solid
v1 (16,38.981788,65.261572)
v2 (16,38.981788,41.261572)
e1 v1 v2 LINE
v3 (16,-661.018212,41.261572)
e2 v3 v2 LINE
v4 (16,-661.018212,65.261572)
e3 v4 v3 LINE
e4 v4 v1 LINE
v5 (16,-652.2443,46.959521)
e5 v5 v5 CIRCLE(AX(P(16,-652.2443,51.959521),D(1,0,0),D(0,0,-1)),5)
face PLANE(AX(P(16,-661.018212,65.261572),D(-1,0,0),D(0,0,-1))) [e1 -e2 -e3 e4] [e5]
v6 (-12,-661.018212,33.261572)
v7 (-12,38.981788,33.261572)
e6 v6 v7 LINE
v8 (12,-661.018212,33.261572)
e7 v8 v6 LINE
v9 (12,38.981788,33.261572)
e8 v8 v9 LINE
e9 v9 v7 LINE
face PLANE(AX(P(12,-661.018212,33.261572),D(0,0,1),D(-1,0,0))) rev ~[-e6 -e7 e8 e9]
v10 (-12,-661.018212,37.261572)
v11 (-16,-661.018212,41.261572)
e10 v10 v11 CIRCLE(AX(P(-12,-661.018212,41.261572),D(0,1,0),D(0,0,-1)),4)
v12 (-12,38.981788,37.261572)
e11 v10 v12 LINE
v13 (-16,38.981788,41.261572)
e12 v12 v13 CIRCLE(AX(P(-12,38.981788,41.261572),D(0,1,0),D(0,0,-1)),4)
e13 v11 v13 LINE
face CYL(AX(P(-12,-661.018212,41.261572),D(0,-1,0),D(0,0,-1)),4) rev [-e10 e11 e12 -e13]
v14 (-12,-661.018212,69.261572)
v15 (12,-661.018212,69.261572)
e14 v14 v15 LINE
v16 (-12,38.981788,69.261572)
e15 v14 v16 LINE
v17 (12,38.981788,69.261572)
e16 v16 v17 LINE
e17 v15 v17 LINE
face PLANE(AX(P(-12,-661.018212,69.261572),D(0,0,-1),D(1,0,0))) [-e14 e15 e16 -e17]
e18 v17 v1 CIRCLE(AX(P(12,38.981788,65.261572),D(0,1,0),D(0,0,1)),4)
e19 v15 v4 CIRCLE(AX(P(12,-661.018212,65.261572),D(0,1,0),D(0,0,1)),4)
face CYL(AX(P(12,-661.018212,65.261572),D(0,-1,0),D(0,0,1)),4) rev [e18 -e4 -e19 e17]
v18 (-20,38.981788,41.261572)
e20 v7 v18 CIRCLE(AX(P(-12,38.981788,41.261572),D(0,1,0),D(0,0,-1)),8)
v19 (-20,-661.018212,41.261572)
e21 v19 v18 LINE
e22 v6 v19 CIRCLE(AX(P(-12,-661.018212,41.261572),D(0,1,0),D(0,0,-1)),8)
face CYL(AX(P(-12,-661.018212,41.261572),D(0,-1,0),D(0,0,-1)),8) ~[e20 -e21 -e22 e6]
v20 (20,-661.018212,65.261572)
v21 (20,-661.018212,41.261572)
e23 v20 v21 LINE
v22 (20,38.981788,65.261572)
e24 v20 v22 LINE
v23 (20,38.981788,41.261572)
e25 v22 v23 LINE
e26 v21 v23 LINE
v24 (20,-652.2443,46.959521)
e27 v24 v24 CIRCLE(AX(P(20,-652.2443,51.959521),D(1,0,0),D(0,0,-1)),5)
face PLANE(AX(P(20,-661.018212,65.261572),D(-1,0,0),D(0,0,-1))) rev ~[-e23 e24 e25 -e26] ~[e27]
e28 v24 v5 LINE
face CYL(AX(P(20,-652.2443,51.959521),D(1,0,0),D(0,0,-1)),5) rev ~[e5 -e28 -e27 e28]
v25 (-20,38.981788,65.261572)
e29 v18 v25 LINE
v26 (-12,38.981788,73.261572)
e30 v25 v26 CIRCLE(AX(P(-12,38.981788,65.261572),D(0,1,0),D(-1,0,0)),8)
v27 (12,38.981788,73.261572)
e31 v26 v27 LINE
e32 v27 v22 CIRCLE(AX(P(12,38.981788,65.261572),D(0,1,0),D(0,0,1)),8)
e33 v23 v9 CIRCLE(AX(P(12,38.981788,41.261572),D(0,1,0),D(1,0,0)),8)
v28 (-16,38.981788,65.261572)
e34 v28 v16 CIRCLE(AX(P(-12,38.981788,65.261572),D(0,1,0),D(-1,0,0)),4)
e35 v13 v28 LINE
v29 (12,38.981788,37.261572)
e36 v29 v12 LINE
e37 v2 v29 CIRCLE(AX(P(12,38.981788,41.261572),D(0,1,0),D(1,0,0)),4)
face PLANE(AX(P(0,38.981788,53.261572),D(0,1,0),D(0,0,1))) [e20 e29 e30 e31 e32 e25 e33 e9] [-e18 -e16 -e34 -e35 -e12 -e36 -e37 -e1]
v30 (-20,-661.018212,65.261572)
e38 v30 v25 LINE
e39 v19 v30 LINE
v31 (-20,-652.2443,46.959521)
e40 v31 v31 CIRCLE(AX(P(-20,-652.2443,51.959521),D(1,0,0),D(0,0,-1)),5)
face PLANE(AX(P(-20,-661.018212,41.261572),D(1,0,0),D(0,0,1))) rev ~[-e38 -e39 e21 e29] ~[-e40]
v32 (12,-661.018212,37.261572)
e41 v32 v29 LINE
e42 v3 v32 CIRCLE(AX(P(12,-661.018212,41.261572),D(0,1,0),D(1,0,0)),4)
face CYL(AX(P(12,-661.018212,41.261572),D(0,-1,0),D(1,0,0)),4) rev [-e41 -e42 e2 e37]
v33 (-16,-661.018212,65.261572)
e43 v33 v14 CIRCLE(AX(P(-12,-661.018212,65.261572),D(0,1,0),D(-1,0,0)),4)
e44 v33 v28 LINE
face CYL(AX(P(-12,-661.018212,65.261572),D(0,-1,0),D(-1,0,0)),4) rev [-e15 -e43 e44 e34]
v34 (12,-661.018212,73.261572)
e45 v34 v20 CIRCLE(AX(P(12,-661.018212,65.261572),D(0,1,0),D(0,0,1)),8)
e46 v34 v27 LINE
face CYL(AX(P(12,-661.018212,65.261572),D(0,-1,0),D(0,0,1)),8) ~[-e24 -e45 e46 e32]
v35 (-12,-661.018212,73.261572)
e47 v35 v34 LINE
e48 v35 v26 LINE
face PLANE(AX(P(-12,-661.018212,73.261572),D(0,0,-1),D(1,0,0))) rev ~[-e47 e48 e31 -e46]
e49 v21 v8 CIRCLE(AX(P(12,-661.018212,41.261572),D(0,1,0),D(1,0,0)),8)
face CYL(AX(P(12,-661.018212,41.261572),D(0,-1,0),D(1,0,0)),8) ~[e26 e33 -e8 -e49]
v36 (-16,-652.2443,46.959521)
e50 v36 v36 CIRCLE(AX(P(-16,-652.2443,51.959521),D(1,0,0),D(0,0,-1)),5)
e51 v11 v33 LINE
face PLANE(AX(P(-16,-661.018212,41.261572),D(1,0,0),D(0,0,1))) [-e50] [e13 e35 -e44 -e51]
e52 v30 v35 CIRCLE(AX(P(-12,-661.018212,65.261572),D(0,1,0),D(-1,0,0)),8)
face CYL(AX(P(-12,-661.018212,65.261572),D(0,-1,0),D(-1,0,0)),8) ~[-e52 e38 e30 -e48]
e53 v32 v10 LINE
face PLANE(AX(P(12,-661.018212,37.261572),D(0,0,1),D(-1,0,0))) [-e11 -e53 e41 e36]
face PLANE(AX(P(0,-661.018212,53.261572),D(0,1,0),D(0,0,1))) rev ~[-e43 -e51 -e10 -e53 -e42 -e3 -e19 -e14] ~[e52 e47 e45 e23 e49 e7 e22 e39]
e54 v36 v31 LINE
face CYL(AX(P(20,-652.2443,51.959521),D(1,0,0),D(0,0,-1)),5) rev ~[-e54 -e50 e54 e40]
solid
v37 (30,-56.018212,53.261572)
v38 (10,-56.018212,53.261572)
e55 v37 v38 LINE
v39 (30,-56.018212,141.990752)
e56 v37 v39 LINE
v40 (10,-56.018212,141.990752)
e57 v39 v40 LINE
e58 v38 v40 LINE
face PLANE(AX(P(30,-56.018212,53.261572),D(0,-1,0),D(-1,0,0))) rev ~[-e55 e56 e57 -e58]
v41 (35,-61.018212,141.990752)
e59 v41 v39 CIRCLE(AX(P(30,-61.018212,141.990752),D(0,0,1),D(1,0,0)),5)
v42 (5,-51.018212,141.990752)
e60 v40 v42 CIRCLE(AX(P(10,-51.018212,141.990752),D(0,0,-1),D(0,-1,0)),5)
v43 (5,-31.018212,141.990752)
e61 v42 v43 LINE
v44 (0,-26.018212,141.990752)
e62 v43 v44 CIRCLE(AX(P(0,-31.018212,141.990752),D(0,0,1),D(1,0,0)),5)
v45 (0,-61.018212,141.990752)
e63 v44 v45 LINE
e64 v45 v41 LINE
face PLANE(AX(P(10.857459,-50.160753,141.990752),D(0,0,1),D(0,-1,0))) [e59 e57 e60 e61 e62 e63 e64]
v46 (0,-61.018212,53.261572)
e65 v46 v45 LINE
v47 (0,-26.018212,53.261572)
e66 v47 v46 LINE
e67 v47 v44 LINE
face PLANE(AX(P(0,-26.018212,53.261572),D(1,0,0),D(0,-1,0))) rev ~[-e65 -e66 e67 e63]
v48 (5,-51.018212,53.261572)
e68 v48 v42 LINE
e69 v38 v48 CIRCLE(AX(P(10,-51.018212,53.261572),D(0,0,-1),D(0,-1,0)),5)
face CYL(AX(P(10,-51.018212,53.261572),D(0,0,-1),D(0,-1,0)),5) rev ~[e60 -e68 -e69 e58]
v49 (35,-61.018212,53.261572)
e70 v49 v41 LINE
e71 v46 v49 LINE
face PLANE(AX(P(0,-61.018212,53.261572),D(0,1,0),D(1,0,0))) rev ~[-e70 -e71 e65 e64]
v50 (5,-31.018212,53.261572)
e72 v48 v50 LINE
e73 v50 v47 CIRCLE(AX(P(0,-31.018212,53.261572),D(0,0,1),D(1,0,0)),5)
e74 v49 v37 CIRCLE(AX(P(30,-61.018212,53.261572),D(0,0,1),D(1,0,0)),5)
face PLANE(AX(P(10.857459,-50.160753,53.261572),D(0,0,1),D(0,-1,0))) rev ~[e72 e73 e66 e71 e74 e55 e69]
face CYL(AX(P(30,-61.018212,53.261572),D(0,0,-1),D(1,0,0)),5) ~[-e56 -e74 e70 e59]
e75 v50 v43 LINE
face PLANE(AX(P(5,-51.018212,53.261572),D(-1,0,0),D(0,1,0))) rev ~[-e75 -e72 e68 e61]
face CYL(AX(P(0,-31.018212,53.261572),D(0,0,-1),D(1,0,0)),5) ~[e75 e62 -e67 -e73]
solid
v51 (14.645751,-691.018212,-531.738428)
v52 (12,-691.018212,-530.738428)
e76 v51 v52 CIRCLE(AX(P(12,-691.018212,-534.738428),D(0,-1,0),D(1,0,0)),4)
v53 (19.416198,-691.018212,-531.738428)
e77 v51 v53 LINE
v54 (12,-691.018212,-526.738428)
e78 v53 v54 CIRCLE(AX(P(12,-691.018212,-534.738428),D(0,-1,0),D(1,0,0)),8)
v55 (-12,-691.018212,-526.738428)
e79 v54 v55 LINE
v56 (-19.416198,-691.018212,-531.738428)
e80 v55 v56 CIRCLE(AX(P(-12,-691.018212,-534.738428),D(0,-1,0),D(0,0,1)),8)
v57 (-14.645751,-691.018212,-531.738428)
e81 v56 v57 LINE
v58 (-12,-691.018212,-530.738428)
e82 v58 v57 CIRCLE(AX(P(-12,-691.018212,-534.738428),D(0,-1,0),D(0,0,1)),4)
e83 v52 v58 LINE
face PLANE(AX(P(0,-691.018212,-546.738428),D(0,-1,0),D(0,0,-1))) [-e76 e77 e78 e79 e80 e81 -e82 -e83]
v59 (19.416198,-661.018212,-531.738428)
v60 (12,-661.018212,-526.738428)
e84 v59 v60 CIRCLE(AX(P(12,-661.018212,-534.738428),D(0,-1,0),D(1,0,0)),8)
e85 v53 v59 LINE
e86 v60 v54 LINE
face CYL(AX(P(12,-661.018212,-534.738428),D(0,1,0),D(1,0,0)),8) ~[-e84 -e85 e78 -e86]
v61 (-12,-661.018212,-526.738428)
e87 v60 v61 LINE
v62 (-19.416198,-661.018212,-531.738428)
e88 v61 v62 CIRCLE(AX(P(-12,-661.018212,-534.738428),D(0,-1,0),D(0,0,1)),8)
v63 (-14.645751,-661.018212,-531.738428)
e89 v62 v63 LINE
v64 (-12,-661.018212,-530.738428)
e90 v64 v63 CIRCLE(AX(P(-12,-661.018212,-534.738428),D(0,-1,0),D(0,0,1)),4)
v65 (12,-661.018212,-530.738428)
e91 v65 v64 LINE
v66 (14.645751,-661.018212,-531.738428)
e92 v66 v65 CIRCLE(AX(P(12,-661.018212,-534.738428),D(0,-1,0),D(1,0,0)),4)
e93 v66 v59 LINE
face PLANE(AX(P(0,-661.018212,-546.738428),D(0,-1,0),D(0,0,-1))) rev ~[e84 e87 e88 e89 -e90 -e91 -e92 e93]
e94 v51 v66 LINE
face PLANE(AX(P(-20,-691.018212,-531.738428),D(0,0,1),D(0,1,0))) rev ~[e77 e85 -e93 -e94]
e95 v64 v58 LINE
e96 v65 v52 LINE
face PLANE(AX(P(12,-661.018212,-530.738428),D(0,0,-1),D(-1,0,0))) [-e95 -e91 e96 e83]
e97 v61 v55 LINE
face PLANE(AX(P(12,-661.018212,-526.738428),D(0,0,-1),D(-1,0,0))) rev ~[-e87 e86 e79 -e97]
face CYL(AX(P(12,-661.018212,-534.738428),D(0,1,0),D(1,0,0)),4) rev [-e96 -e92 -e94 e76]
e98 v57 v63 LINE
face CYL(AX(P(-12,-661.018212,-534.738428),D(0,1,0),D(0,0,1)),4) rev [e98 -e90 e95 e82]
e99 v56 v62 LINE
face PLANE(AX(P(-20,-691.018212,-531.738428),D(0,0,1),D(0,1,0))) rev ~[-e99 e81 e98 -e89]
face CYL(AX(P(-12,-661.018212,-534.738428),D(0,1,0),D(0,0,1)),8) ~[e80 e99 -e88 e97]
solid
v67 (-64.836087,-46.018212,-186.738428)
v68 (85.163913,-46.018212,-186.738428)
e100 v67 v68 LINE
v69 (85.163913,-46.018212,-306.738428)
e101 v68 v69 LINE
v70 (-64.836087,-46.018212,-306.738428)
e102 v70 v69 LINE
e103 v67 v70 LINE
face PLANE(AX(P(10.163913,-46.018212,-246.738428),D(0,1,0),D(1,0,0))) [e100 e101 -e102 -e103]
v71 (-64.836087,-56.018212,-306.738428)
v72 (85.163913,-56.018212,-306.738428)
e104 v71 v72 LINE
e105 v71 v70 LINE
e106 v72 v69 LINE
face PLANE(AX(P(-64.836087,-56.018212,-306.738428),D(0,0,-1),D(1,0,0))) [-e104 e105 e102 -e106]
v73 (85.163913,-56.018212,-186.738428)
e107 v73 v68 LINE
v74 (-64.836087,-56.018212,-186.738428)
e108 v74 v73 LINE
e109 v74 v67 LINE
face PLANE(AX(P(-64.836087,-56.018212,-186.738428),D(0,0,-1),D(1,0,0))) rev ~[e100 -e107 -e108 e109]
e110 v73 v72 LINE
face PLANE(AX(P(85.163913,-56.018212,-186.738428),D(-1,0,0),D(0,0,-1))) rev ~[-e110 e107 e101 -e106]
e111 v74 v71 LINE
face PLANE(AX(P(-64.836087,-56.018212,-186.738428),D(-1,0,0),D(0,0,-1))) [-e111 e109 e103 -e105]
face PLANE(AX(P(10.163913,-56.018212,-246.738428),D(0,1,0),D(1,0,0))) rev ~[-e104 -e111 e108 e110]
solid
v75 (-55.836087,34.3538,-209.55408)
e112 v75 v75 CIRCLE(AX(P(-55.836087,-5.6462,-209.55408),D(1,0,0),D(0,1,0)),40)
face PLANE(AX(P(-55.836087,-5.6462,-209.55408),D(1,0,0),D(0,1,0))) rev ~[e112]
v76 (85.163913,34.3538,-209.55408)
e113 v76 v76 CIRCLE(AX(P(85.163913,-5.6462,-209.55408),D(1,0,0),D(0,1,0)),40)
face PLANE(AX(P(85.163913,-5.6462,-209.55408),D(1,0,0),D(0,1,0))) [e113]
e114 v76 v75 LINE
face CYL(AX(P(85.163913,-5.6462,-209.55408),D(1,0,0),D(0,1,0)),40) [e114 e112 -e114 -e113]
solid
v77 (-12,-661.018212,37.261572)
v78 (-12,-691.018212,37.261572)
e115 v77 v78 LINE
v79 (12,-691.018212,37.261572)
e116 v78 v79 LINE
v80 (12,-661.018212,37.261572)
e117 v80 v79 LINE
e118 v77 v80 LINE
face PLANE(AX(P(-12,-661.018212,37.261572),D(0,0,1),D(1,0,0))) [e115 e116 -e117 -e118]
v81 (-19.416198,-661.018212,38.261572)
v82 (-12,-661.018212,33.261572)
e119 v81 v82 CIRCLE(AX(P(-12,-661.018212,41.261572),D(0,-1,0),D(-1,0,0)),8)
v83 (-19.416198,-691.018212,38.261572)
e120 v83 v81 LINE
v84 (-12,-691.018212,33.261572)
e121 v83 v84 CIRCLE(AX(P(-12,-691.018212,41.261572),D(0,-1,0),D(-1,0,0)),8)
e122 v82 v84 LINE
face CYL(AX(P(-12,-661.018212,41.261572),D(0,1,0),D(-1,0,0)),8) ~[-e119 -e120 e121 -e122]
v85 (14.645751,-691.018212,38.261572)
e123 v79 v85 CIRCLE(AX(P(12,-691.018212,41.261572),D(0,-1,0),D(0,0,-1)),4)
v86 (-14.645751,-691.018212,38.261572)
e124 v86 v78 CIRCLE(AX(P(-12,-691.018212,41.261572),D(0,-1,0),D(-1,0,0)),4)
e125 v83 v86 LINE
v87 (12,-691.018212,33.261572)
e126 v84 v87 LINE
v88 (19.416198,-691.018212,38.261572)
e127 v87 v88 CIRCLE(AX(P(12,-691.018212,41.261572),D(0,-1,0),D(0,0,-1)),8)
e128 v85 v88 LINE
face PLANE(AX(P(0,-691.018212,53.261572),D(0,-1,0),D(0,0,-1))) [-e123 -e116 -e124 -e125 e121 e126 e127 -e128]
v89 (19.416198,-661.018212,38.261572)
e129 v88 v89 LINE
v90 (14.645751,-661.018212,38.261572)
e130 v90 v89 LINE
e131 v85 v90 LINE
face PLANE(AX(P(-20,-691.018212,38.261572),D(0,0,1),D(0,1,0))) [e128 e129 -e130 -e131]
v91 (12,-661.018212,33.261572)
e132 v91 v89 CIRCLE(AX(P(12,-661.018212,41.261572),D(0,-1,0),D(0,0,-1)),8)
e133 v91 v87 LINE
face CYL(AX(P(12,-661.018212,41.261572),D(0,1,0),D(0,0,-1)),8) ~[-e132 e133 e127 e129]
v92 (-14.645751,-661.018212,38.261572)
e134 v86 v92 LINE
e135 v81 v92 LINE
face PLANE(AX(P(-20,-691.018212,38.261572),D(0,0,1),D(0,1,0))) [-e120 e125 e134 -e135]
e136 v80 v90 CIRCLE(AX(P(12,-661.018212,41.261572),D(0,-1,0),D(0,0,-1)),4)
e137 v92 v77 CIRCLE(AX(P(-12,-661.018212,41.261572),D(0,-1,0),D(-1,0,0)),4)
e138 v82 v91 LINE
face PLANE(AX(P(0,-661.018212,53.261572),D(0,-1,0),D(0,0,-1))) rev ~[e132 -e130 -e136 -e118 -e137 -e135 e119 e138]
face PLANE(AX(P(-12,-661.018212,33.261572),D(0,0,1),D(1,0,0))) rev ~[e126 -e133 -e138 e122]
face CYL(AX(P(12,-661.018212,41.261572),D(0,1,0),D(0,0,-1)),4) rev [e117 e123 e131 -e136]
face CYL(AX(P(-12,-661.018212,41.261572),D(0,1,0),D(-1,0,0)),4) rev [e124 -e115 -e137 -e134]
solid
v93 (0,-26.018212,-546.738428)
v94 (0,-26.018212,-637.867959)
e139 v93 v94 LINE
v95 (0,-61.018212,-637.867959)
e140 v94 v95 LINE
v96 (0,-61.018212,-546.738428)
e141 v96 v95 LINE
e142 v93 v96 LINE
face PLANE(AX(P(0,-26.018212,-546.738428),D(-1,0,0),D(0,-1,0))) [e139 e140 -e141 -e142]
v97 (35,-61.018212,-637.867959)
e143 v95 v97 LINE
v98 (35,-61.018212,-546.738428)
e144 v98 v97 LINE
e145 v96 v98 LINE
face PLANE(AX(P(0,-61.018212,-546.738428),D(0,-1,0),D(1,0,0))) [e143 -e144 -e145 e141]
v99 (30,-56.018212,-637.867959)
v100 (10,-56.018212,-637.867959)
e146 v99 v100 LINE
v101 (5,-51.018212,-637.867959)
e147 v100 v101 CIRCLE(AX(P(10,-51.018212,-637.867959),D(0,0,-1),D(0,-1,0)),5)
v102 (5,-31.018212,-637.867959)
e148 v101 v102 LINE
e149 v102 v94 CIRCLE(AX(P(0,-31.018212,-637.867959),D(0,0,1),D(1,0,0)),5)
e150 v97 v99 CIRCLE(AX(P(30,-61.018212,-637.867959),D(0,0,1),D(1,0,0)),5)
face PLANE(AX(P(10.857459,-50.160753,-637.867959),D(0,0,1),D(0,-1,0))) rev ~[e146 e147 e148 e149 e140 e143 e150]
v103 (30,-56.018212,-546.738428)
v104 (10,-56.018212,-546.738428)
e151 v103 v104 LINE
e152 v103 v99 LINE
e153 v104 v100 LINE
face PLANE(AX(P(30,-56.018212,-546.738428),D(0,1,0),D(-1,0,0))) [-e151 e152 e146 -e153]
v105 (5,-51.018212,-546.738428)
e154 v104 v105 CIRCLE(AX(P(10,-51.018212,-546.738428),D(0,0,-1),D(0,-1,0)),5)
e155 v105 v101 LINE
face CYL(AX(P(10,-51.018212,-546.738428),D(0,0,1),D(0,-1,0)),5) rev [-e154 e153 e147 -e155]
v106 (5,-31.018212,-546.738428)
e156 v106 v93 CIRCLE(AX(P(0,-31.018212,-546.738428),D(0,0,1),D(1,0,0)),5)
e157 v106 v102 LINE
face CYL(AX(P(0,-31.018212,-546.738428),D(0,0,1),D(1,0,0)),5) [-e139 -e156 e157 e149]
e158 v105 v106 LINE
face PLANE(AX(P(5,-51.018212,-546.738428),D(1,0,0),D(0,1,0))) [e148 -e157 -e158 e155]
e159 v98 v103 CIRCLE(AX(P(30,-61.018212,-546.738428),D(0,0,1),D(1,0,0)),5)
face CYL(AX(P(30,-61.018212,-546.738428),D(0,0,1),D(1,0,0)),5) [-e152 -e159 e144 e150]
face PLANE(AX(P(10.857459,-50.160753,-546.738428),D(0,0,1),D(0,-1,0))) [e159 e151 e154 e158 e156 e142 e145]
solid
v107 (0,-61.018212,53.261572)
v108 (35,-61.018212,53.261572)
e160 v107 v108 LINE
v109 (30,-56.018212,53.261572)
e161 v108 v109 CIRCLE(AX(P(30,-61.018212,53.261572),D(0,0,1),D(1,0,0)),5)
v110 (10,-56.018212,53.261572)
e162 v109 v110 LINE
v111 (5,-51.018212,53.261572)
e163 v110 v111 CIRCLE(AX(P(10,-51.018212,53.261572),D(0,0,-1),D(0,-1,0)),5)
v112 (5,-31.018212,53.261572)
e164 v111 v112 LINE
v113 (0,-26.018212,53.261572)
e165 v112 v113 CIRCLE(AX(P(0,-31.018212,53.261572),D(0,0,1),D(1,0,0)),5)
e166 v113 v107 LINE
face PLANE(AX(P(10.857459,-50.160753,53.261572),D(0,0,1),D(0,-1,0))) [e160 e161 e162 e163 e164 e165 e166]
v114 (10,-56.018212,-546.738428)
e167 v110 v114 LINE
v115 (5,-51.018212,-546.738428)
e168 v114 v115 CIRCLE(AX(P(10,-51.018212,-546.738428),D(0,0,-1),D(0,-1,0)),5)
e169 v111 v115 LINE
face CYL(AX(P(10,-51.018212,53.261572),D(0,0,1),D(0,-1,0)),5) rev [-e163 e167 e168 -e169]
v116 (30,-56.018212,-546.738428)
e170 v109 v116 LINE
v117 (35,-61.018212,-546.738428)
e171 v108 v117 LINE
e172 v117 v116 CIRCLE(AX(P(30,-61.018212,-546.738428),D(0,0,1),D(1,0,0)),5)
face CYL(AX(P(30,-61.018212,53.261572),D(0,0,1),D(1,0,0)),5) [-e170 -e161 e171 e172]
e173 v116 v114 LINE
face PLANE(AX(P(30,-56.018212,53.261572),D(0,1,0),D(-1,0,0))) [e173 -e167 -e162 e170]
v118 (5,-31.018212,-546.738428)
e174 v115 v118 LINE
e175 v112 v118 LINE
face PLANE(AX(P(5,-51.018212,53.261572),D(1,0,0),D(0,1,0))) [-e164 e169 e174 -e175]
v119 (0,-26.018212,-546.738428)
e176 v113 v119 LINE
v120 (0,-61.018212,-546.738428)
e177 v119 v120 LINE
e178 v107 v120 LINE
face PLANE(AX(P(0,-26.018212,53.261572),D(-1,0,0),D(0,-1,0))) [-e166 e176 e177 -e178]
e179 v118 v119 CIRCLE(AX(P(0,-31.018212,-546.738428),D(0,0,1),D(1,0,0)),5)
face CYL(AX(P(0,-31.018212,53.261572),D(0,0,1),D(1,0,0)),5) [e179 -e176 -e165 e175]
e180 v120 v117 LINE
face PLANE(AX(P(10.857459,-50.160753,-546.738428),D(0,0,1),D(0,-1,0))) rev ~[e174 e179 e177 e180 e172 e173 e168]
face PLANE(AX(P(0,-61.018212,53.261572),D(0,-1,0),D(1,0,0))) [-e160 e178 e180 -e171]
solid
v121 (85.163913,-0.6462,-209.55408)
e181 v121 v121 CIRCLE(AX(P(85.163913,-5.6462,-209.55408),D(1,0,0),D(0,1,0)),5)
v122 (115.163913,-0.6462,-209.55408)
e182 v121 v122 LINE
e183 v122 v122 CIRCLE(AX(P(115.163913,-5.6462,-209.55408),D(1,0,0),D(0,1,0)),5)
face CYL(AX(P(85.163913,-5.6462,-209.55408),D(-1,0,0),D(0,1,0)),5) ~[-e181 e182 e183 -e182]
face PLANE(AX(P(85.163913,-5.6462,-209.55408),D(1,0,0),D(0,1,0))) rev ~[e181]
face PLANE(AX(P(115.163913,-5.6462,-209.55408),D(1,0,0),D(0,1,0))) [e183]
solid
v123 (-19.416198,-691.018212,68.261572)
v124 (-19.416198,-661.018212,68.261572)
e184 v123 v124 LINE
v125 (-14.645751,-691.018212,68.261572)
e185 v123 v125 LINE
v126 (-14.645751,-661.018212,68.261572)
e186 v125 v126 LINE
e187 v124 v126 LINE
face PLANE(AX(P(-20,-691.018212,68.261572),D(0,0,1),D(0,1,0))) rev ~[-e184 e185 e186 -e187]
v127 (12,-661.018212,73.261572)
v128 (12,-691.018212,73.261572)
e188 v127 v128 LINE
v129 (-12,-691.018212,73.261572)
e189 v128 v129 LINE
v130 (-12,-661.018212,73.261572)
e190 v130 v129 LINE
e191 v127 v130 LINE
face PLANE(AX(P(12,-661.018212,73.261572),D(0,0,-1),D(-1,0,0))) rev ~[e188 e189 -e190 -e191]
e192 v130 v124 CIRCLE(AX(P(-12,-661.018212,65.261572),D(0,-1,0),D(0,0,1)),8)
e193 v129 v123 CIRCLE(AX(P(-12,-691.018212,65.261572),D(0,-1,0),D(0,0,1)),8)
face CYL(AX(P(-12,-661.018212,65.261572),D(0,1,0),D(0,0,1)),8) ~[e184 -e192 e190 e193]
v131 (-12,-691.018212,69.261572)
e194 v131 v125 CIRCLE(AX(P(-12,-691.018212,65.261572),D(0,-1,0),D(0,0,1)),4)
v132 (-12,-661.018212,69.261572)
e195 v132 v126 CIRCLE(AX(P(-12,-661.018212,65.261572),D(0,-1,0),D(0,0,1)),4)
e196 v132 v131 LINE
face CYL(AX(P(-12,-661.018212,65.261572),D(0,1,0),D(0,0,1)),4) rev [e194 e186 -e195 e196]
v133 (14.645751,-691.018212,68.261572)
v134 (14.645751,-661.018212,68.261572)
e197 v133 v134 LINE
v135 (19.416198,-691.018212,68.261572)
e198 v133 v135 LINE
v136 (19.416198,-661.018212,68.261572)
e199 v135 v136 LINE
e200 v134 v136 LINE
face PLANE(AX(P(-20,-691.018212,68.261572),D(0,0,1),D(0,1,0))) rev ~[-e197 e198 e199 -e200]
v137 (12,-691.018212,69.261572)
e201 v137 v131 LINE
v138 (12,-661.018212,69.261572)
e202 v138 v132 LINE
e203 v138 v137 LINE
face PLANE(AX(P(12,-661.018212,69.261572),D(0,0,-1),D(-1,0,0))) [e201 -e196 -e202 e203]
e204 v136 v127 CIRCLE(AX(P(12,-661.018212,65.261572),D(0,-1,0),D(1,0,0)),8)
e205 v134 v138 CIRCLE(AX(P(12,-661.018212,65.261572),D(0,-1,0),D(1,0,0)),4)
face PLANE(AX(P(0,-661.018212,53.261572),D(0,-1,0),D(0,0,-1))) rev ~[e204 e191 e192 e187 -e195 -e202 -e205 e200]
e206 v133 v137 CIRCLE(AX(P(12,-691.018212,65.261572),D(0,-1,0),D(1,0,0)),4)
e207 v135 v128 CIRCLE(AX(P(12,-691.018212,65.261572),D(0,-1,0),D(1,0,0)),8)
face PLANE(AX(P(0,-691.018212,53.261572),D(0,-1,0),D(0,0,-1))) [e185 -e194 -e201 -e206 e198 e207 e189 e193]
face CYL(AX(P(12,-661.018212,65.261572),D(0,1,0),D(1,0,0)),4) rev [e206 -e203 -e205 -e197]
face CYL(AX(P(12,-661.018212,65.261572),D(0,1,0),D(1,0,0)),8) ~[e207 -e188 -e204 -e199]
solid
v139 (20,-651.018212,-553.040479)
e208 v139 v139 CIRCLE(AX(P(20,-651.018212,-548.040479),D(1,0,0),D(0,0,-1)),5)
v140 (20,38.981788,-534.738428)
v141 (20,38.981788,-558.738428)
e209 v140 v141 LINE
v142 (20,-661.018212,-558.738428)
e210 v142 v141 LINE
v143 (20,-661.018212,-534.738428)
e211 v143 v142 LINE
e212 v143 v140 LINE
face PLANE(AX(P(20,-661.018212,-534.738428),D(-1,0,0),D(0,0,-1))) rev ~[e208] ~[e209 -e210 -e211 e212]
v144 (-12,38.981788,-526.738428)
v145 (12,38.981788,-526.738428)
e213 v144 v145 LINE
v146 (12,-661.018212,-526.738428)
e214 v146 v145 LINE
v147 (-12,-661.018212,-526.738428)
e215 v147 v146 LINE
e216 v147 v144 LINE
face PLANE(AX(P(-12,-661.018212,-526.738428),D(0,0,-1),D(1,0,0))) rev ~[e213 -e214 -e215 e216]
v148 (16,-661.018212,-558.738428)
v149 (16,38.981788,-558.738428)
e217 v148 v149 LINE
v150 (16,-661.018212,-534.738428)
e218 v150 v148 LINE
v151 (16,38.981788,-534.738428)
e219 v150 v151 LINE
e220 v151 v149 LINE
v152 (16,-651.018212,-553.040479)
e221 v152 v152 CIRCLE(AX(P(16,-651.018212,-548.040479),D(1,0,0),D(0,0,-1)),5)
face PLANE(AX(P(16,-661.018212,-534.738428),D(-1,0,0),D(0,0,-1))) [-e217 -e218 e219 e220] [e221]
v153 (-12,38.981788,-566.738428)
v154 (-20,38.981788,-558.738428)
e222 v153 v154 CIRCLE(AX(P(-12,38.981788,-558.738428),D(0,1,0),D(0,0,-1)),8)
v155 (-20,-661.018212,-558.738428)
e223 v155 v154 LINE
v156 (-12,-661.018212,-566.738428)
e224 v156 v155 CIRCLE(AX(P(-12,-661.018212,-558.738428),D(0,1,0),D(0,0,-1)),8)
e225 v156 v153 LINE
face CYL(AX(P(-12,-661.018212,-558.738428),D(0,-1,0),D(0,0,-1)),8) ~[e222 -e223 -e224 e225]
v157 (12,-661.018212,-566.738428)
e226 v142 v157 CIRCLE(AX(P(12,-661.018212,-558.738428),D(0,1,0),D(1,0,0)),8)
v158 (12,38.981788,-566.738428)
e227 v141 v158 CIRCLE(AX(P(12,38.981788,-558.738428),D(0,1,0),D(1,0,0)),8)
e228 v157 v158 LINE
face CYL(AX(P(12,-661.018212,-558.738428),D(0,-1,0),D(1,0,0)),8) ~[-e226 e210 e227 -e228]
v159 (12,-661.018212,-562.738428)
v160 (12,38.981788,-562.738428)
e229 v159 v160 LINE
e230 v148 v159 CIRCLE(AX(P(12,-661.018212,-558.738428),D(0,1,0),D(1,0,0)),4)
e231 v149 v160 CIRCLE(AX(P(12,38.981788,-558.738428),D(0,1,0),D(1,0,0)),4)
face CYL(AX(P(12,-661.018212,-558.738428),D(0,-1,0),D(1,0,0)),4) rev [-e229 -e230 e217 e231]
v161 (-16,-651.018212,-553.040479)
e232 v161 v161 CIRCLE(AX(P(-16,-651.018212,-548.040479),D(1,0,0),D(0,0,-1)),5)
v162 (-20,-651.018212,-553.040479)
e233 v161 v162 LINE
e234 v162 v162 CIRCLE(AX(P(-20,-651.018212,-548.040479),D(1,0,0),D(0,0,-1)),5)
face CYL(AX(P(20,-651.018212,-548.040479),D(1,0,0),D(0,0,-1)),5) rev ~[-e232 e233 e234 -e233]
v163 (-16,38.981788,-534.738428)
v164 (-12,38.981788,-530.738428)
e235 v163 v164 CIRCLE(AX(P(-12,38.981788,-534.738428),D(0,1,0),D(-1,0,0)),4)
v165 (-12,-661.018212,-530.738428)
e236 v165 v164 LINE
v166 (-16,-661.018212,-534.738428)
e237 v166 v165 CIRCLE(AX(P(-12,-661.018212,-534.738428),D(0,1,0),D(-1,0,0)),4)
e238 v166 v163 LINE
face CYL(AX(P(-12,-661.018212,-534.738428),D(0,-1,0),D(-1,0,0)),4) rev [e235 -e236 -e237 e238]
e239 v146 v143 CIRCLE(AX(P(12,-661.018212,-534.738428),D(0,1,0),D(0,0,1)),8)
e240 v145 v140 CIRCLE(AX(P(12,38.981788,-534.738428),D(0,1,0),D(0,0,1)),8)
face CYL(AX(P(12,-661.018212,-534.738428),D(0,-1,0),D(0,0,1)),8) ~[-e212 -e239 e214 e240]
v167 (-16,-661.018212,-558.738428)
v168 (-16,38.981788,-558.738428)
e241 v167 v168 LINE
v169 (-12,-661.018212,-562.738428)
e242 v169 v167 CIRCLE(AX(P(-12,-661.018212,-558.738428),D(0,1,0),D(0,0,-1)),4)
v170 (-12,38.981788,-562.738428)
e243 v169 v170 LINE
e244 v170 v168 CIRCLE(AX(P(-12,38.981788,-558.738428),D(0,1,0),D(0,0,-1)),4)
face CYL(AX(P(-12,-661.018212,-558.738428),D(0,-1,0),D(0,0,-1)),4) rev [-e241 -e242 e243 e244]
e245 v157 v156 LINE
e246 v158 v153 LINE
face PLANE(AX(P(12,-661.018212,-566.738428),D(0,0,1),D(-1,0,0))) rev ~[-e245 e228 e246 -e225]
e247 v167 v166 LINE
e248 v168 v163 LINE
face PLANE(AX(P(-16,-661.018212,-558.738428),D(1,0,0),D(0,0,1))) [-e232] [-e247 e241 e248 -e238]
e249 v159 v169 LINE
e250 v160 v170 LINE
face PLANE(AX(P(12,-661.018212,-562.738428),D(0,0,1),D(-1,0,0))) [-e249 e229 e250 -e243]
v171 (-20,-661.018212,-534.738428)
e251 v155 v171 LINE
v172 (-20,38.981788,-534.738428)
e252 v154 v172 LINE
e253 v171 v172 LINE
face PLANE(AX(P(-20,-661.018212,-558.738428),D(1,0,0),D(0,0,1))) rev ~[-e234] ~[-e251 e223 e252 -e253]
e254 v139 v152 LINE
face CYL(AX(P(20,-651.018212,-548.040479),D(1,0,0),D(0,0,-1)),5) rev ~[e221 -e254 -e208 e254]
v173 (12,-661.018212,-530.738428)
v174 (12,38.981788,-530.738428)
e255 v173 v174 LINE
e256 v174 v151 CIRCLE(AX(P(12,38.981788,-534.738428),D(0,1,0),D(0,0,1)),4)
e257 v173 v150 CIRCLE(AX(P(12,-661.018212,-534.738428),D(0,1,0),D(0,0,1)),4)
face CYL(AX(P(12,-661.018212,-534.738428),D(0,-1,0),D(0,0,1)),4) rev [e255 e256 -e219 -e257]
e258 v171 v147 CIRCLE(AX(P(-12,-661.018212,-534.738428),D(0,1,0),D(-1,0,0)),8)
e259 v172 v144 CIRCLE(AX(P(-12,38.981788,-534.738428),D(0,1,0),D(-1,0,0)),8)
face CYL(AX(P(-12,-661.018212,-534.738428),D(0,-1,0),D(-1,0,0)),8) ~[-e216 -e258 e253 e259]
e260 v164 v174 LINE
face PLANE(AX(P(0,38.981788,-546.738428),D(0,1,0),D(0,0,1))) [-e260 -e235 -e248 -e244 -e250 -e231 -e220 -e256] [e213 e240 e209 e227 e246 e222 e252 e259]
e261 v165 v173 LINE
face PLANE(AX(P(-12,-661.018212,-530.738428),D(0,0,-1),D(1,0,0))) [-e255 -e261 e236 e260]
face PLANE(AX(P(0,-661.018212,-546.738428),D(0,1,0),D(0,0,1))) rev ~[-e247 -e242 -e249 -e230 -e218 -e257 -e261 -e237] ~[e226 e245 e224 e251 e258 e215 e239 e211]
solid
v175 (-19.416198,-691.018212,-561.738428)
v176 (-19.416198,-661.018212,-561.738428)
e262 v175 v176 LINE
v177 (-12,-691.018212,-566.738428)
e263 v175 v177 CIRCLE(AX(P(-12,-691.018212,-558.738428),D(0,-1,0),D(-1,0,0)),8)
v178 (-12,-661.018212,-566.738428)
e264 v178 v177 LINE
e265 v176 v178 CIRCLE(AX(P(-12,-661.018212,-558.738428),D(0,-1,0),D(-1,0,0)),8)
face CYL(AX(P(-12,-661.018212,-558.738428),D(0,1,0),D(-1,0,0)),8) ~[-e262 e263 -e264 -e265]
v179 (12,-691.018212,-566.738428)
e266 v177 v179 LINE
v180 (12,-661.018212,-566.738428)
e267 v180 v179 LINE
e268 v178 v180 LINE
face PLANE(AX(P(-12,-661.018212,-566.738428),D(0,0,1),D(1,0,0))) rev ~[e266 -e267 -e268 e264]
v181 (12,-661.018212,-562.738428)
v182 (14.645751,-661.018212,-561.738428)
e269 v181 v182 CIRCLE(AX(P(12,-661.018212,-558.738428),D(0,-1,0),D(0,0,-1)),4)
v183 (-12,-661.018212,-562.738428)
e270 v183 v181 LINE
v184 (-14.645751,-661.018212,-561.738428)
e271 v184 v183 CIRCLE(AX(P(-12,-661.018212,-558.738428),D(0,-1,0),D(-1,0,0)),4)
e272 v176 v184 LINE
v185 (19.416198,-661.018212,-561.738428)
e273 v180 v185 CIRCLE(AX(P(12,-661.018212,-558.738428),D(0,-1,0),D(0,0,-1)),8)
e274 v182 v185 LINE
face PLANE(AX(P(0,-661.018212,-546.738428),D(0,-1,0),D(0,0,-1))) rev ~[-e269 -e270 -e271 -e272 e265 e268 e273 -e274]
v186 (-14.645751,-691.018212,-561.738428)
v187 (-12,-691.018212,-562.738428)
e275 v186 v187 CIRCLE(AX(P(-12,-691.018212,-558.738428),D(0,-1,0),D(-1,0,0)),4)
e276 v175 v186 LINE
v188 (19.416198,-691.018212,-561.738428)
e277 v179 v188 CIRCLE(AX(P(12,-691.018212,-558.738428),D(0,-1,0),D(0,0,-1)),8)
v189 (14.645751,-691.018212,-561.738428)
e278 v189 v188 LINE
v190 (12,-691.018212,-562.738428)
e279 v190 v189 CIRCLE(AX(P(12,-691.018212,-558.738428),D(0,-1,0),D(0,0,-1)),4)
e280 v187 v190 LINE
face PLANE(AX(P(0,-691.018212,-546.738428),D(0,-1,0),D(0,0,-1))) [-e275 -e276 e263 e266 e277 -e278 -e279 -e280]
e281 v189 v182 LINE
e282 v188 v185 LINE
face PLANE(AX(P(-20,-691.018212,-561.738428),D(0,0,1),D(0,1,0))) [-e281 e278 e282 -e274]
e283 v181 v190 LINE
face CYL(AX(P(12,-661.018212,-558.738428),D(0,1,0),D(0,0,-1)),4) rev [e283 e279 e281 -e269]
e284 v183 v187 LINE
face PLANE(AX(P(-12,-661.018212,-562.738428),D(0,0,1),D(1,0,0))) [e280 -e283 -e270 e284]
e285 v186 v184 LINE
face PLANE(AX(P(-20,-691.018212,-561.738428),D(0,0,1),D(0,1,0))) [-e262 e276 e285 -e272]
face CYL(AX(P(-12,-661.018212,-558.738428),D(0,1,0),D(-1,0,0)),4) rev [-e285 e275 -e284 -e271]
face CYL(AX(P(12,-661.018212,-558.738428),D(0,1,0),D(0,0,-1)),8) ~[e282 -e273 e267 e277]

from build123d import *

# Parameters (mm, degrees)
STRUCTURAL_MEMBER1_DEPTH   = 700
STRUCTURAL_MEMBER1_2_DEPTH = 700
STRUCTURAL_MEMBER3_DEPTH   = 30
STRUCTURAL_MEMBER3_2_DEPTH = 30
SKETCH14_W                 = 30
SKETCH14_H                 = 30
CUT_EXTRUDE1_DEPTH         = 45
SKETCH15_W                 = 30
SKETCH15_H                 = 30
CUT_EXTRUDE2_DEPTH         = 45
STRUCTURAL_MEMBER4_DEPTH   = 88.72918051
STRUCTURAL_MEMBER4_2_DEPTH = 600
STRUCTURAL_MEMBER4_3_DEPTH = 91.129530864
SKETCH111_W                = 150
SKETCH111_H                = 120
BOSS_EXTRUDE1_DEPTH        = 10
SKETCH112_R                = 40
BOSS_EXTRUDE2_DEPTH        = 141
SKETCH113_R                = 5
BOSS_EXTRUDE3_DEPTH        = 30
SKETCH114_R                = 5
CUT_EXTRUDE3_DEPTH         = 105


with BuildPart() as part:
    # Sketch11 → Structural Member1 (new body)
    with BuildSketch(Plane(origin=(0, -661.018211614, 53.261571771), x_dir=(0, 0, 1), z_dir=(0, 1, 0))):
        with BuildLine():
            Line((-12, -20), (12, -20))
            ThreePointArc((12, -20), (17.656854249, -17.656854249), (20, -12))
            Line((20, -12), (20, 12))
            ThreePointArc((20, 12), (17.656854249, 17.656854249), (12, 20))
            Line((12, 20), (-12, 20))
            ThreePointArc((-12, 20), (-17.656854249, 17.656854249), (-20, 12))
            Line((-20, 12), (-20, -12))
            ThreePointArc((-20, -12), (-17.656854249, -17.656854249), (-12, -20))
        make_face()
        with BuildLine():
            Line((-12, -16), (12, -16))
            ThreePointArc((12, -16), (14.828427125, -14.828427125), (16, -12))
            Line((16, -12), (16, 12))
            ThreePointArc((16, 12), (14.828427125, 14.828427125), (12, 16))
            Line((12, 16), (-12, 16))
            ThreePointArc((-12, 16), (-14.828427125, 14.828427125), (-16, 12))
            Line((-16, 12), (-16, -12))
            ThreePointArc((-16, -12), (-14.828427125, -14.828427125), (-12, -16))
        make_face(mode=Mode.SUBTRACT)
    extrude(amount=STRUCTURAL_MEMBER1_DEPTH)


with BuildPart() as body_2:
    # Sketch11 on segment 2 (carried to segment 2) → Structural Member1 2 (new body)
    with BuildSketch(Plane(origin=(0, -661.018211614, -546.738428229), x_dir=(0, 0, 1), z_dir=(0, 1, 0))):
        with BuildLine():
            Line((-12, -20), (12, -20))
            ThreePointArc((12, -20), (17.656854249, -17.656854249), (20, -12))
            Line((20, -12), (20, 12))
            ThreePointArc((20, 12), (17.656854249, 17.656854249), (12, 20))
            Line((12, 20), (-12, 20))
            ThreePointArc((-12, 20), (-17.656854249, 17.656854249), (-20, 12))
            Line((-20, 12), (-20, -12))
            ThreePointArc((-20, -12), (-17.656854249, -17.656854249), (-12, -20))
        make_face()
        with BuildLine():
            Line((-12, -16), (12, -16))
            ThreePointArc((12, -16), (14.828427125, -14.828427125), (16, -12))
            Line((16, -12), (16, 12))
            ThreePointArc((16, 12), (14.828427125, 14.828427125), (12, 16))
            Line((12, 16), (-12, 16))
            ThreePointArc((-12, 16), (-14.828427125, 14.828427125), (-16, 12))
            Line((-16, 12), (-16, -12))
            ThreePointArc((-16, -12), (-14.828427125, -14.828427125), (-12, -16))
        make_face(mode=Mode.SUBTRACT)
    extrude(amount=STRUCTURAL_MEMBER1_2_DEPTH)


with BuildPart() as body_3:
    # Sketch13 → Structural Member3 (new body)
    with BuildSketch(Plane(origin=(0, -661.018211614, 53.261571771), x_dir=(0, 0, -1), z_dir=(0, -1, 0))):
        with BuildLine():
            Line((-12, -20), (12, -20))
            ThreePointArc((12, -20), (17.656854249, -17.656854249), (20, -12))
            Line((20, -12), (20, 12))
            ThreePointArc((20, 12), (17.656854249, 17.656854249), (12, 20))
            Line((12, 20), (-12, 20))
            ThreePointArc((-12, 20), (-17.656854249, 17.656854249), (-20, 12))
            Line((-20, 12), (-20, -12))
            ThreePointArc((-20, -12), (-17.656854249, -17.656854249), (-12, -20))
        make_face()
        with BuildLine():
            Line((-12, -16), (12, -16))
            ThreePointArc((12, -16), (14.828427125, -14.828427125), (16, -12))
            Line((16, -12), (16, 12))
            ThreePointArc((16, 12), (14.828427125, 14.828427125), (12, 16))
            Line((12, 16), (-12, 16))
            ThreePointArc((-12, 16), (-14.828427125, 14.828427125), (-16, 12))
            Line((-16, 12), (-16, -12))
            ThreePointArc((-16, -12), (-14.828427125, -14.828427125), (-12, -16))
        make_face(mode=Mode.SUBTRACT)
    extrude(amount=STRUCTURAL_MEMBER3_DEPTH)

    # Sketch15 → Cut-Extrude2 (cut)
    with BuildSketch(Plane.ZY.offset(20)):
        with Locations((53.261571771, -676.018211614)):
            Rectangle(SKETCH15_W, SKETCH15_H)
    extrude(amount=-CUT_EXTRUDE2_DEPTH, mode=Mode.SUBTRACT)


with BuildPart() as body_4:
    # Sketch13 on segment 2 (carried to segment 2) → Structural Member3 2 (new body)
    with BuildSketch(Plane(origin=(0, -661.018211614, -546.738428229), x_dir=(0, 0, -1), z_dir=(0, -1, 0))):
        with BuildLine():
            Line((-12, -20), (12, -20))
            ThreePointArc((12, -20), (17.656854249, -17.656854249), (20, -12))
            Line((20, -12), (20, 12))
            ThreePointArc((20, 12), (17.656854249, 17.656854249), (12, 20))
            Line((12, 20), (-12, 20))
            ThreePointArc((-12, 20), (-17.656854249, 17.656854249), (-20, 12))
            Line((-20, 12), (-20, -12))
            ThreePointArc((-20, -12), (-17.656854249, -17.656854249), (-12, -20))
        make_face()
        with BuildLine():
            Line((-12, -16), (12, -16))
            ThreePointArc((12, -16), (14.828427125, -14.828427125), (16, -12))
            Line((16, -12), (16, 12))
            ThreePointArc((16, 12), (14.828427125, 14.828427125), (12, 16))
            Line((12, 16), (-12, 16))
            ThreePointArc((-12, 16), (-14.828427125, 14.828427125), (-16, 12))
            Line((-16, 12), (-16, -12))
            ThreePointArc((-16, -12), (-14.828427125, -14.828427125), (-12, -16))
        make_face(mode=Mode.SUBTRACT)
    extrude(amount=STRUCTURAL_MEMBER3_2_DEPTH)

    # Sketch14 → Cut-Extrude1 (cut)
    with BuildSketch(Plane.ZY.offset(20)):
        with Locations((-546.738428229, -676.018211614)):
            Rectangle(SKETCH14_W, SKETCH14_H)
    extrude(amount=-CUT_EXTRUDE1_DEPTH, mode=Mode.SUBTRACT)


with BuildPart() as cut_extrude1_piece_1:
    # of the separate pieces the step leaves, piece 1, a body of its own (cut_extrude1_pieces)
    add(body_4.part.solids().sort_by_distance((-12, -661.018211614, -526.738428229))[0])


with BuildPart() as cut_extrude1_piece_2:
    # of the separate pieces the step leaves, piece 2, a body of its own (cut_extrude1_pieces)
    add(body_4.part.solids().sort_by_distance((-19.416198487, -661.018211614, -561.738428229))[0])


with BuildPart() as cut_extrude2_piece_1:
    # of the separate pieces the step leaves, piece 1, a body of its own (cut_extrude2_pieces)
    add(body_3.part.solids().sort_by_distance((-12, -661.018211614, 73.261571771))[0])


with BuildPart() as cut_extrude2_piece_2:
    # of the separate pieces the step leaves, piece 2, a body of its own (cut_extrude2_pieces)
    add(body_3.part.solids().sort_by_distance((-19.416198487, -661.018211614, 38.261571771))[0])


with BuildPart() as body_7:
    # Sketch110 → Structural Member4 (new body)
    with BuildSketch(Plane(origin=(0, -61.018211614, 53.261571771), x_dir=(0, 1, 0), z_dir=(0, 0, -1))):
        with BuildLine():
            Line((0, 0), (0, 35))
            ThreePointArc((0, 35), (3.535533906, 33.535533906), (5, 30))
            Line((5, 30), (5, 10))
            ThreePointArc((5, 10), (6.464466094, 6.464466094), (10, 5))
            Line((10, 5), (30, 5))
            ThreePointArc((30, 5), (33.535533906, 3.535533906), (35, 0))
            Line((35, 0), (0, 0))
        make_face()
    extrude(amount=-STRUCTURAL_MEMBER4_DEPTH)


with BuildPart() as body_8:
    # Sketch110 on segment 2 (carried to segment 2) → Structural Member4 2 (new body)
    with BuildSketch(Plane(origin=(0, -61.018211614, 53.261571771), x_dir=(0, 1, 0), z_dir=(0, 0, -1))):
        with BuildLine():
            Line((0, 0), (0, 35))
            ThreePointArc((0, 35), (3.535533906, 33.535533906), (5, 30))
            Line((5, 30), (5, 10))
            ThreePointArc((5, 10), (6.464466094, 6.464466094), (10, 5))
            Line((10, 5), (30, 5))
            ThreePointArc((30, 5), (33.535533906, 3.535533906), (35, 0))
            Line((35, 0), (0, 0))
        make_face()
    extrude(amount=STRUCTURAL_MEMBER4_2_DEPTH)


with BuildPart() as body_9:
    # Sketch110 on segment 3 (carried to segment 3) → Structural Member4 3 (new body)
    with BuildSketch(Plane(origin=(0, -61.018211614, -546.738428229), x_dir=(0, 1, 0), z_dir=(0, 0, -1))):
        with BuildLine():
            Line((0, 0), (0, 35))
            ThreePointArc((0, 35), (3.535533906, 33.535533906), (5, 30))
            Line((5, 30), (5, 10))
            ThreePointArc((5, 10), (6.464466094, 6.464466094), (10, 5))
            Line((10, 5), (30, 5))
            ThreePointArc((30, 5), (33.535533906, 3.535533906), (35, 0))
            Line((35, 0), (0, 0))
        make_face()
    extrude(amount=STRUCTURAL_MEMBER4_3_DEPTH)


with BuildPart() as body_10:
    # Sketch111 → Boss-Extrude1 (new body)
    with BuildSketch(Plane(origin=(0, -56.018211614, 0), x_dir=(1, 0, 0), z_dir=(0, 1, 0))):
        with Locations((10.163912746, 246.738428229)):
            Rectangle(SKETCH111_W, SKETCH111_H)
    extrude(amount=BOSS_EXTRUDE1_DEPTH)


with BuildPart() as body_11:
    # Sketch112 → Boss-Extrude2 (new body)
    with BuildSketch(Plane(origin=(85.163912746, 0, 0), x_dir=(0, 0, -1), z_dir=(1, 0, 0))):
        with Locations(Location((209.554079822, -5.646199866, 0), (0, 0, 90))):
            Circle(SKETCH112_R)
    extrude(amount=-BOSS_EXTRUDE2_DEPTH)


with BuildPart() as body_12:
    # Sketch113 → Boss-Extrude3 (new body)
    with BuildSketch(Plane(origin=(85.163912746, 0, 0), x_dir=(0, 0, -1), z_dir=(1, 0, 0))):
        with Locations(Location((209.554079822, -5.646199866, 0), (0, 0, 90))):
            Circle(SKETCH113_R)
    extrude(amount=BOSS_EXTRUDE3_DEPTH)


with BuildPart() as cut_extrude3_tool:
    # Sketch114 → Cut-Extrude3 (new body)
    with BuildSketch(Plane(origin=(20, 0, 0), x_dir=(0, 0, -1), z_dir=(1, 0, 0))):
        with Locations((548.040479498, -651.018211614)):
            Circle(SKETCH114_R)
        with Locations((-51.959520502, -652.244300255)):
            Circle(SKETCH114_R)
    extrude(amount=-CUT_EXTRUDE3_DEPTH)


with BuildPart() as part_1:
    add(part.part)

    # Cut-Extrude3: cut by cut_extrude3_tool
    add(cut_extrude3_tool.part, mode=Mode.SUBTRACT)


with BuildPart() as body_2_1:
    add(body_2.part)

    # Cut-Extrude3: cut by cut_extrude3_tool
    add(cut_extrude3_tool.part, mode=Mode.SUBTRACT)


solid = Compound([cut_extrude1_piece_1.part, cut_extrude1_piece_2.part, cut_extrude2_piece_1.part, cut_extrude2_piece_2.part, body_7.part, body_8.part, body_9.part, body_10.part, body_11.part, body_12.part, part_1.part, body_2_1.part])
